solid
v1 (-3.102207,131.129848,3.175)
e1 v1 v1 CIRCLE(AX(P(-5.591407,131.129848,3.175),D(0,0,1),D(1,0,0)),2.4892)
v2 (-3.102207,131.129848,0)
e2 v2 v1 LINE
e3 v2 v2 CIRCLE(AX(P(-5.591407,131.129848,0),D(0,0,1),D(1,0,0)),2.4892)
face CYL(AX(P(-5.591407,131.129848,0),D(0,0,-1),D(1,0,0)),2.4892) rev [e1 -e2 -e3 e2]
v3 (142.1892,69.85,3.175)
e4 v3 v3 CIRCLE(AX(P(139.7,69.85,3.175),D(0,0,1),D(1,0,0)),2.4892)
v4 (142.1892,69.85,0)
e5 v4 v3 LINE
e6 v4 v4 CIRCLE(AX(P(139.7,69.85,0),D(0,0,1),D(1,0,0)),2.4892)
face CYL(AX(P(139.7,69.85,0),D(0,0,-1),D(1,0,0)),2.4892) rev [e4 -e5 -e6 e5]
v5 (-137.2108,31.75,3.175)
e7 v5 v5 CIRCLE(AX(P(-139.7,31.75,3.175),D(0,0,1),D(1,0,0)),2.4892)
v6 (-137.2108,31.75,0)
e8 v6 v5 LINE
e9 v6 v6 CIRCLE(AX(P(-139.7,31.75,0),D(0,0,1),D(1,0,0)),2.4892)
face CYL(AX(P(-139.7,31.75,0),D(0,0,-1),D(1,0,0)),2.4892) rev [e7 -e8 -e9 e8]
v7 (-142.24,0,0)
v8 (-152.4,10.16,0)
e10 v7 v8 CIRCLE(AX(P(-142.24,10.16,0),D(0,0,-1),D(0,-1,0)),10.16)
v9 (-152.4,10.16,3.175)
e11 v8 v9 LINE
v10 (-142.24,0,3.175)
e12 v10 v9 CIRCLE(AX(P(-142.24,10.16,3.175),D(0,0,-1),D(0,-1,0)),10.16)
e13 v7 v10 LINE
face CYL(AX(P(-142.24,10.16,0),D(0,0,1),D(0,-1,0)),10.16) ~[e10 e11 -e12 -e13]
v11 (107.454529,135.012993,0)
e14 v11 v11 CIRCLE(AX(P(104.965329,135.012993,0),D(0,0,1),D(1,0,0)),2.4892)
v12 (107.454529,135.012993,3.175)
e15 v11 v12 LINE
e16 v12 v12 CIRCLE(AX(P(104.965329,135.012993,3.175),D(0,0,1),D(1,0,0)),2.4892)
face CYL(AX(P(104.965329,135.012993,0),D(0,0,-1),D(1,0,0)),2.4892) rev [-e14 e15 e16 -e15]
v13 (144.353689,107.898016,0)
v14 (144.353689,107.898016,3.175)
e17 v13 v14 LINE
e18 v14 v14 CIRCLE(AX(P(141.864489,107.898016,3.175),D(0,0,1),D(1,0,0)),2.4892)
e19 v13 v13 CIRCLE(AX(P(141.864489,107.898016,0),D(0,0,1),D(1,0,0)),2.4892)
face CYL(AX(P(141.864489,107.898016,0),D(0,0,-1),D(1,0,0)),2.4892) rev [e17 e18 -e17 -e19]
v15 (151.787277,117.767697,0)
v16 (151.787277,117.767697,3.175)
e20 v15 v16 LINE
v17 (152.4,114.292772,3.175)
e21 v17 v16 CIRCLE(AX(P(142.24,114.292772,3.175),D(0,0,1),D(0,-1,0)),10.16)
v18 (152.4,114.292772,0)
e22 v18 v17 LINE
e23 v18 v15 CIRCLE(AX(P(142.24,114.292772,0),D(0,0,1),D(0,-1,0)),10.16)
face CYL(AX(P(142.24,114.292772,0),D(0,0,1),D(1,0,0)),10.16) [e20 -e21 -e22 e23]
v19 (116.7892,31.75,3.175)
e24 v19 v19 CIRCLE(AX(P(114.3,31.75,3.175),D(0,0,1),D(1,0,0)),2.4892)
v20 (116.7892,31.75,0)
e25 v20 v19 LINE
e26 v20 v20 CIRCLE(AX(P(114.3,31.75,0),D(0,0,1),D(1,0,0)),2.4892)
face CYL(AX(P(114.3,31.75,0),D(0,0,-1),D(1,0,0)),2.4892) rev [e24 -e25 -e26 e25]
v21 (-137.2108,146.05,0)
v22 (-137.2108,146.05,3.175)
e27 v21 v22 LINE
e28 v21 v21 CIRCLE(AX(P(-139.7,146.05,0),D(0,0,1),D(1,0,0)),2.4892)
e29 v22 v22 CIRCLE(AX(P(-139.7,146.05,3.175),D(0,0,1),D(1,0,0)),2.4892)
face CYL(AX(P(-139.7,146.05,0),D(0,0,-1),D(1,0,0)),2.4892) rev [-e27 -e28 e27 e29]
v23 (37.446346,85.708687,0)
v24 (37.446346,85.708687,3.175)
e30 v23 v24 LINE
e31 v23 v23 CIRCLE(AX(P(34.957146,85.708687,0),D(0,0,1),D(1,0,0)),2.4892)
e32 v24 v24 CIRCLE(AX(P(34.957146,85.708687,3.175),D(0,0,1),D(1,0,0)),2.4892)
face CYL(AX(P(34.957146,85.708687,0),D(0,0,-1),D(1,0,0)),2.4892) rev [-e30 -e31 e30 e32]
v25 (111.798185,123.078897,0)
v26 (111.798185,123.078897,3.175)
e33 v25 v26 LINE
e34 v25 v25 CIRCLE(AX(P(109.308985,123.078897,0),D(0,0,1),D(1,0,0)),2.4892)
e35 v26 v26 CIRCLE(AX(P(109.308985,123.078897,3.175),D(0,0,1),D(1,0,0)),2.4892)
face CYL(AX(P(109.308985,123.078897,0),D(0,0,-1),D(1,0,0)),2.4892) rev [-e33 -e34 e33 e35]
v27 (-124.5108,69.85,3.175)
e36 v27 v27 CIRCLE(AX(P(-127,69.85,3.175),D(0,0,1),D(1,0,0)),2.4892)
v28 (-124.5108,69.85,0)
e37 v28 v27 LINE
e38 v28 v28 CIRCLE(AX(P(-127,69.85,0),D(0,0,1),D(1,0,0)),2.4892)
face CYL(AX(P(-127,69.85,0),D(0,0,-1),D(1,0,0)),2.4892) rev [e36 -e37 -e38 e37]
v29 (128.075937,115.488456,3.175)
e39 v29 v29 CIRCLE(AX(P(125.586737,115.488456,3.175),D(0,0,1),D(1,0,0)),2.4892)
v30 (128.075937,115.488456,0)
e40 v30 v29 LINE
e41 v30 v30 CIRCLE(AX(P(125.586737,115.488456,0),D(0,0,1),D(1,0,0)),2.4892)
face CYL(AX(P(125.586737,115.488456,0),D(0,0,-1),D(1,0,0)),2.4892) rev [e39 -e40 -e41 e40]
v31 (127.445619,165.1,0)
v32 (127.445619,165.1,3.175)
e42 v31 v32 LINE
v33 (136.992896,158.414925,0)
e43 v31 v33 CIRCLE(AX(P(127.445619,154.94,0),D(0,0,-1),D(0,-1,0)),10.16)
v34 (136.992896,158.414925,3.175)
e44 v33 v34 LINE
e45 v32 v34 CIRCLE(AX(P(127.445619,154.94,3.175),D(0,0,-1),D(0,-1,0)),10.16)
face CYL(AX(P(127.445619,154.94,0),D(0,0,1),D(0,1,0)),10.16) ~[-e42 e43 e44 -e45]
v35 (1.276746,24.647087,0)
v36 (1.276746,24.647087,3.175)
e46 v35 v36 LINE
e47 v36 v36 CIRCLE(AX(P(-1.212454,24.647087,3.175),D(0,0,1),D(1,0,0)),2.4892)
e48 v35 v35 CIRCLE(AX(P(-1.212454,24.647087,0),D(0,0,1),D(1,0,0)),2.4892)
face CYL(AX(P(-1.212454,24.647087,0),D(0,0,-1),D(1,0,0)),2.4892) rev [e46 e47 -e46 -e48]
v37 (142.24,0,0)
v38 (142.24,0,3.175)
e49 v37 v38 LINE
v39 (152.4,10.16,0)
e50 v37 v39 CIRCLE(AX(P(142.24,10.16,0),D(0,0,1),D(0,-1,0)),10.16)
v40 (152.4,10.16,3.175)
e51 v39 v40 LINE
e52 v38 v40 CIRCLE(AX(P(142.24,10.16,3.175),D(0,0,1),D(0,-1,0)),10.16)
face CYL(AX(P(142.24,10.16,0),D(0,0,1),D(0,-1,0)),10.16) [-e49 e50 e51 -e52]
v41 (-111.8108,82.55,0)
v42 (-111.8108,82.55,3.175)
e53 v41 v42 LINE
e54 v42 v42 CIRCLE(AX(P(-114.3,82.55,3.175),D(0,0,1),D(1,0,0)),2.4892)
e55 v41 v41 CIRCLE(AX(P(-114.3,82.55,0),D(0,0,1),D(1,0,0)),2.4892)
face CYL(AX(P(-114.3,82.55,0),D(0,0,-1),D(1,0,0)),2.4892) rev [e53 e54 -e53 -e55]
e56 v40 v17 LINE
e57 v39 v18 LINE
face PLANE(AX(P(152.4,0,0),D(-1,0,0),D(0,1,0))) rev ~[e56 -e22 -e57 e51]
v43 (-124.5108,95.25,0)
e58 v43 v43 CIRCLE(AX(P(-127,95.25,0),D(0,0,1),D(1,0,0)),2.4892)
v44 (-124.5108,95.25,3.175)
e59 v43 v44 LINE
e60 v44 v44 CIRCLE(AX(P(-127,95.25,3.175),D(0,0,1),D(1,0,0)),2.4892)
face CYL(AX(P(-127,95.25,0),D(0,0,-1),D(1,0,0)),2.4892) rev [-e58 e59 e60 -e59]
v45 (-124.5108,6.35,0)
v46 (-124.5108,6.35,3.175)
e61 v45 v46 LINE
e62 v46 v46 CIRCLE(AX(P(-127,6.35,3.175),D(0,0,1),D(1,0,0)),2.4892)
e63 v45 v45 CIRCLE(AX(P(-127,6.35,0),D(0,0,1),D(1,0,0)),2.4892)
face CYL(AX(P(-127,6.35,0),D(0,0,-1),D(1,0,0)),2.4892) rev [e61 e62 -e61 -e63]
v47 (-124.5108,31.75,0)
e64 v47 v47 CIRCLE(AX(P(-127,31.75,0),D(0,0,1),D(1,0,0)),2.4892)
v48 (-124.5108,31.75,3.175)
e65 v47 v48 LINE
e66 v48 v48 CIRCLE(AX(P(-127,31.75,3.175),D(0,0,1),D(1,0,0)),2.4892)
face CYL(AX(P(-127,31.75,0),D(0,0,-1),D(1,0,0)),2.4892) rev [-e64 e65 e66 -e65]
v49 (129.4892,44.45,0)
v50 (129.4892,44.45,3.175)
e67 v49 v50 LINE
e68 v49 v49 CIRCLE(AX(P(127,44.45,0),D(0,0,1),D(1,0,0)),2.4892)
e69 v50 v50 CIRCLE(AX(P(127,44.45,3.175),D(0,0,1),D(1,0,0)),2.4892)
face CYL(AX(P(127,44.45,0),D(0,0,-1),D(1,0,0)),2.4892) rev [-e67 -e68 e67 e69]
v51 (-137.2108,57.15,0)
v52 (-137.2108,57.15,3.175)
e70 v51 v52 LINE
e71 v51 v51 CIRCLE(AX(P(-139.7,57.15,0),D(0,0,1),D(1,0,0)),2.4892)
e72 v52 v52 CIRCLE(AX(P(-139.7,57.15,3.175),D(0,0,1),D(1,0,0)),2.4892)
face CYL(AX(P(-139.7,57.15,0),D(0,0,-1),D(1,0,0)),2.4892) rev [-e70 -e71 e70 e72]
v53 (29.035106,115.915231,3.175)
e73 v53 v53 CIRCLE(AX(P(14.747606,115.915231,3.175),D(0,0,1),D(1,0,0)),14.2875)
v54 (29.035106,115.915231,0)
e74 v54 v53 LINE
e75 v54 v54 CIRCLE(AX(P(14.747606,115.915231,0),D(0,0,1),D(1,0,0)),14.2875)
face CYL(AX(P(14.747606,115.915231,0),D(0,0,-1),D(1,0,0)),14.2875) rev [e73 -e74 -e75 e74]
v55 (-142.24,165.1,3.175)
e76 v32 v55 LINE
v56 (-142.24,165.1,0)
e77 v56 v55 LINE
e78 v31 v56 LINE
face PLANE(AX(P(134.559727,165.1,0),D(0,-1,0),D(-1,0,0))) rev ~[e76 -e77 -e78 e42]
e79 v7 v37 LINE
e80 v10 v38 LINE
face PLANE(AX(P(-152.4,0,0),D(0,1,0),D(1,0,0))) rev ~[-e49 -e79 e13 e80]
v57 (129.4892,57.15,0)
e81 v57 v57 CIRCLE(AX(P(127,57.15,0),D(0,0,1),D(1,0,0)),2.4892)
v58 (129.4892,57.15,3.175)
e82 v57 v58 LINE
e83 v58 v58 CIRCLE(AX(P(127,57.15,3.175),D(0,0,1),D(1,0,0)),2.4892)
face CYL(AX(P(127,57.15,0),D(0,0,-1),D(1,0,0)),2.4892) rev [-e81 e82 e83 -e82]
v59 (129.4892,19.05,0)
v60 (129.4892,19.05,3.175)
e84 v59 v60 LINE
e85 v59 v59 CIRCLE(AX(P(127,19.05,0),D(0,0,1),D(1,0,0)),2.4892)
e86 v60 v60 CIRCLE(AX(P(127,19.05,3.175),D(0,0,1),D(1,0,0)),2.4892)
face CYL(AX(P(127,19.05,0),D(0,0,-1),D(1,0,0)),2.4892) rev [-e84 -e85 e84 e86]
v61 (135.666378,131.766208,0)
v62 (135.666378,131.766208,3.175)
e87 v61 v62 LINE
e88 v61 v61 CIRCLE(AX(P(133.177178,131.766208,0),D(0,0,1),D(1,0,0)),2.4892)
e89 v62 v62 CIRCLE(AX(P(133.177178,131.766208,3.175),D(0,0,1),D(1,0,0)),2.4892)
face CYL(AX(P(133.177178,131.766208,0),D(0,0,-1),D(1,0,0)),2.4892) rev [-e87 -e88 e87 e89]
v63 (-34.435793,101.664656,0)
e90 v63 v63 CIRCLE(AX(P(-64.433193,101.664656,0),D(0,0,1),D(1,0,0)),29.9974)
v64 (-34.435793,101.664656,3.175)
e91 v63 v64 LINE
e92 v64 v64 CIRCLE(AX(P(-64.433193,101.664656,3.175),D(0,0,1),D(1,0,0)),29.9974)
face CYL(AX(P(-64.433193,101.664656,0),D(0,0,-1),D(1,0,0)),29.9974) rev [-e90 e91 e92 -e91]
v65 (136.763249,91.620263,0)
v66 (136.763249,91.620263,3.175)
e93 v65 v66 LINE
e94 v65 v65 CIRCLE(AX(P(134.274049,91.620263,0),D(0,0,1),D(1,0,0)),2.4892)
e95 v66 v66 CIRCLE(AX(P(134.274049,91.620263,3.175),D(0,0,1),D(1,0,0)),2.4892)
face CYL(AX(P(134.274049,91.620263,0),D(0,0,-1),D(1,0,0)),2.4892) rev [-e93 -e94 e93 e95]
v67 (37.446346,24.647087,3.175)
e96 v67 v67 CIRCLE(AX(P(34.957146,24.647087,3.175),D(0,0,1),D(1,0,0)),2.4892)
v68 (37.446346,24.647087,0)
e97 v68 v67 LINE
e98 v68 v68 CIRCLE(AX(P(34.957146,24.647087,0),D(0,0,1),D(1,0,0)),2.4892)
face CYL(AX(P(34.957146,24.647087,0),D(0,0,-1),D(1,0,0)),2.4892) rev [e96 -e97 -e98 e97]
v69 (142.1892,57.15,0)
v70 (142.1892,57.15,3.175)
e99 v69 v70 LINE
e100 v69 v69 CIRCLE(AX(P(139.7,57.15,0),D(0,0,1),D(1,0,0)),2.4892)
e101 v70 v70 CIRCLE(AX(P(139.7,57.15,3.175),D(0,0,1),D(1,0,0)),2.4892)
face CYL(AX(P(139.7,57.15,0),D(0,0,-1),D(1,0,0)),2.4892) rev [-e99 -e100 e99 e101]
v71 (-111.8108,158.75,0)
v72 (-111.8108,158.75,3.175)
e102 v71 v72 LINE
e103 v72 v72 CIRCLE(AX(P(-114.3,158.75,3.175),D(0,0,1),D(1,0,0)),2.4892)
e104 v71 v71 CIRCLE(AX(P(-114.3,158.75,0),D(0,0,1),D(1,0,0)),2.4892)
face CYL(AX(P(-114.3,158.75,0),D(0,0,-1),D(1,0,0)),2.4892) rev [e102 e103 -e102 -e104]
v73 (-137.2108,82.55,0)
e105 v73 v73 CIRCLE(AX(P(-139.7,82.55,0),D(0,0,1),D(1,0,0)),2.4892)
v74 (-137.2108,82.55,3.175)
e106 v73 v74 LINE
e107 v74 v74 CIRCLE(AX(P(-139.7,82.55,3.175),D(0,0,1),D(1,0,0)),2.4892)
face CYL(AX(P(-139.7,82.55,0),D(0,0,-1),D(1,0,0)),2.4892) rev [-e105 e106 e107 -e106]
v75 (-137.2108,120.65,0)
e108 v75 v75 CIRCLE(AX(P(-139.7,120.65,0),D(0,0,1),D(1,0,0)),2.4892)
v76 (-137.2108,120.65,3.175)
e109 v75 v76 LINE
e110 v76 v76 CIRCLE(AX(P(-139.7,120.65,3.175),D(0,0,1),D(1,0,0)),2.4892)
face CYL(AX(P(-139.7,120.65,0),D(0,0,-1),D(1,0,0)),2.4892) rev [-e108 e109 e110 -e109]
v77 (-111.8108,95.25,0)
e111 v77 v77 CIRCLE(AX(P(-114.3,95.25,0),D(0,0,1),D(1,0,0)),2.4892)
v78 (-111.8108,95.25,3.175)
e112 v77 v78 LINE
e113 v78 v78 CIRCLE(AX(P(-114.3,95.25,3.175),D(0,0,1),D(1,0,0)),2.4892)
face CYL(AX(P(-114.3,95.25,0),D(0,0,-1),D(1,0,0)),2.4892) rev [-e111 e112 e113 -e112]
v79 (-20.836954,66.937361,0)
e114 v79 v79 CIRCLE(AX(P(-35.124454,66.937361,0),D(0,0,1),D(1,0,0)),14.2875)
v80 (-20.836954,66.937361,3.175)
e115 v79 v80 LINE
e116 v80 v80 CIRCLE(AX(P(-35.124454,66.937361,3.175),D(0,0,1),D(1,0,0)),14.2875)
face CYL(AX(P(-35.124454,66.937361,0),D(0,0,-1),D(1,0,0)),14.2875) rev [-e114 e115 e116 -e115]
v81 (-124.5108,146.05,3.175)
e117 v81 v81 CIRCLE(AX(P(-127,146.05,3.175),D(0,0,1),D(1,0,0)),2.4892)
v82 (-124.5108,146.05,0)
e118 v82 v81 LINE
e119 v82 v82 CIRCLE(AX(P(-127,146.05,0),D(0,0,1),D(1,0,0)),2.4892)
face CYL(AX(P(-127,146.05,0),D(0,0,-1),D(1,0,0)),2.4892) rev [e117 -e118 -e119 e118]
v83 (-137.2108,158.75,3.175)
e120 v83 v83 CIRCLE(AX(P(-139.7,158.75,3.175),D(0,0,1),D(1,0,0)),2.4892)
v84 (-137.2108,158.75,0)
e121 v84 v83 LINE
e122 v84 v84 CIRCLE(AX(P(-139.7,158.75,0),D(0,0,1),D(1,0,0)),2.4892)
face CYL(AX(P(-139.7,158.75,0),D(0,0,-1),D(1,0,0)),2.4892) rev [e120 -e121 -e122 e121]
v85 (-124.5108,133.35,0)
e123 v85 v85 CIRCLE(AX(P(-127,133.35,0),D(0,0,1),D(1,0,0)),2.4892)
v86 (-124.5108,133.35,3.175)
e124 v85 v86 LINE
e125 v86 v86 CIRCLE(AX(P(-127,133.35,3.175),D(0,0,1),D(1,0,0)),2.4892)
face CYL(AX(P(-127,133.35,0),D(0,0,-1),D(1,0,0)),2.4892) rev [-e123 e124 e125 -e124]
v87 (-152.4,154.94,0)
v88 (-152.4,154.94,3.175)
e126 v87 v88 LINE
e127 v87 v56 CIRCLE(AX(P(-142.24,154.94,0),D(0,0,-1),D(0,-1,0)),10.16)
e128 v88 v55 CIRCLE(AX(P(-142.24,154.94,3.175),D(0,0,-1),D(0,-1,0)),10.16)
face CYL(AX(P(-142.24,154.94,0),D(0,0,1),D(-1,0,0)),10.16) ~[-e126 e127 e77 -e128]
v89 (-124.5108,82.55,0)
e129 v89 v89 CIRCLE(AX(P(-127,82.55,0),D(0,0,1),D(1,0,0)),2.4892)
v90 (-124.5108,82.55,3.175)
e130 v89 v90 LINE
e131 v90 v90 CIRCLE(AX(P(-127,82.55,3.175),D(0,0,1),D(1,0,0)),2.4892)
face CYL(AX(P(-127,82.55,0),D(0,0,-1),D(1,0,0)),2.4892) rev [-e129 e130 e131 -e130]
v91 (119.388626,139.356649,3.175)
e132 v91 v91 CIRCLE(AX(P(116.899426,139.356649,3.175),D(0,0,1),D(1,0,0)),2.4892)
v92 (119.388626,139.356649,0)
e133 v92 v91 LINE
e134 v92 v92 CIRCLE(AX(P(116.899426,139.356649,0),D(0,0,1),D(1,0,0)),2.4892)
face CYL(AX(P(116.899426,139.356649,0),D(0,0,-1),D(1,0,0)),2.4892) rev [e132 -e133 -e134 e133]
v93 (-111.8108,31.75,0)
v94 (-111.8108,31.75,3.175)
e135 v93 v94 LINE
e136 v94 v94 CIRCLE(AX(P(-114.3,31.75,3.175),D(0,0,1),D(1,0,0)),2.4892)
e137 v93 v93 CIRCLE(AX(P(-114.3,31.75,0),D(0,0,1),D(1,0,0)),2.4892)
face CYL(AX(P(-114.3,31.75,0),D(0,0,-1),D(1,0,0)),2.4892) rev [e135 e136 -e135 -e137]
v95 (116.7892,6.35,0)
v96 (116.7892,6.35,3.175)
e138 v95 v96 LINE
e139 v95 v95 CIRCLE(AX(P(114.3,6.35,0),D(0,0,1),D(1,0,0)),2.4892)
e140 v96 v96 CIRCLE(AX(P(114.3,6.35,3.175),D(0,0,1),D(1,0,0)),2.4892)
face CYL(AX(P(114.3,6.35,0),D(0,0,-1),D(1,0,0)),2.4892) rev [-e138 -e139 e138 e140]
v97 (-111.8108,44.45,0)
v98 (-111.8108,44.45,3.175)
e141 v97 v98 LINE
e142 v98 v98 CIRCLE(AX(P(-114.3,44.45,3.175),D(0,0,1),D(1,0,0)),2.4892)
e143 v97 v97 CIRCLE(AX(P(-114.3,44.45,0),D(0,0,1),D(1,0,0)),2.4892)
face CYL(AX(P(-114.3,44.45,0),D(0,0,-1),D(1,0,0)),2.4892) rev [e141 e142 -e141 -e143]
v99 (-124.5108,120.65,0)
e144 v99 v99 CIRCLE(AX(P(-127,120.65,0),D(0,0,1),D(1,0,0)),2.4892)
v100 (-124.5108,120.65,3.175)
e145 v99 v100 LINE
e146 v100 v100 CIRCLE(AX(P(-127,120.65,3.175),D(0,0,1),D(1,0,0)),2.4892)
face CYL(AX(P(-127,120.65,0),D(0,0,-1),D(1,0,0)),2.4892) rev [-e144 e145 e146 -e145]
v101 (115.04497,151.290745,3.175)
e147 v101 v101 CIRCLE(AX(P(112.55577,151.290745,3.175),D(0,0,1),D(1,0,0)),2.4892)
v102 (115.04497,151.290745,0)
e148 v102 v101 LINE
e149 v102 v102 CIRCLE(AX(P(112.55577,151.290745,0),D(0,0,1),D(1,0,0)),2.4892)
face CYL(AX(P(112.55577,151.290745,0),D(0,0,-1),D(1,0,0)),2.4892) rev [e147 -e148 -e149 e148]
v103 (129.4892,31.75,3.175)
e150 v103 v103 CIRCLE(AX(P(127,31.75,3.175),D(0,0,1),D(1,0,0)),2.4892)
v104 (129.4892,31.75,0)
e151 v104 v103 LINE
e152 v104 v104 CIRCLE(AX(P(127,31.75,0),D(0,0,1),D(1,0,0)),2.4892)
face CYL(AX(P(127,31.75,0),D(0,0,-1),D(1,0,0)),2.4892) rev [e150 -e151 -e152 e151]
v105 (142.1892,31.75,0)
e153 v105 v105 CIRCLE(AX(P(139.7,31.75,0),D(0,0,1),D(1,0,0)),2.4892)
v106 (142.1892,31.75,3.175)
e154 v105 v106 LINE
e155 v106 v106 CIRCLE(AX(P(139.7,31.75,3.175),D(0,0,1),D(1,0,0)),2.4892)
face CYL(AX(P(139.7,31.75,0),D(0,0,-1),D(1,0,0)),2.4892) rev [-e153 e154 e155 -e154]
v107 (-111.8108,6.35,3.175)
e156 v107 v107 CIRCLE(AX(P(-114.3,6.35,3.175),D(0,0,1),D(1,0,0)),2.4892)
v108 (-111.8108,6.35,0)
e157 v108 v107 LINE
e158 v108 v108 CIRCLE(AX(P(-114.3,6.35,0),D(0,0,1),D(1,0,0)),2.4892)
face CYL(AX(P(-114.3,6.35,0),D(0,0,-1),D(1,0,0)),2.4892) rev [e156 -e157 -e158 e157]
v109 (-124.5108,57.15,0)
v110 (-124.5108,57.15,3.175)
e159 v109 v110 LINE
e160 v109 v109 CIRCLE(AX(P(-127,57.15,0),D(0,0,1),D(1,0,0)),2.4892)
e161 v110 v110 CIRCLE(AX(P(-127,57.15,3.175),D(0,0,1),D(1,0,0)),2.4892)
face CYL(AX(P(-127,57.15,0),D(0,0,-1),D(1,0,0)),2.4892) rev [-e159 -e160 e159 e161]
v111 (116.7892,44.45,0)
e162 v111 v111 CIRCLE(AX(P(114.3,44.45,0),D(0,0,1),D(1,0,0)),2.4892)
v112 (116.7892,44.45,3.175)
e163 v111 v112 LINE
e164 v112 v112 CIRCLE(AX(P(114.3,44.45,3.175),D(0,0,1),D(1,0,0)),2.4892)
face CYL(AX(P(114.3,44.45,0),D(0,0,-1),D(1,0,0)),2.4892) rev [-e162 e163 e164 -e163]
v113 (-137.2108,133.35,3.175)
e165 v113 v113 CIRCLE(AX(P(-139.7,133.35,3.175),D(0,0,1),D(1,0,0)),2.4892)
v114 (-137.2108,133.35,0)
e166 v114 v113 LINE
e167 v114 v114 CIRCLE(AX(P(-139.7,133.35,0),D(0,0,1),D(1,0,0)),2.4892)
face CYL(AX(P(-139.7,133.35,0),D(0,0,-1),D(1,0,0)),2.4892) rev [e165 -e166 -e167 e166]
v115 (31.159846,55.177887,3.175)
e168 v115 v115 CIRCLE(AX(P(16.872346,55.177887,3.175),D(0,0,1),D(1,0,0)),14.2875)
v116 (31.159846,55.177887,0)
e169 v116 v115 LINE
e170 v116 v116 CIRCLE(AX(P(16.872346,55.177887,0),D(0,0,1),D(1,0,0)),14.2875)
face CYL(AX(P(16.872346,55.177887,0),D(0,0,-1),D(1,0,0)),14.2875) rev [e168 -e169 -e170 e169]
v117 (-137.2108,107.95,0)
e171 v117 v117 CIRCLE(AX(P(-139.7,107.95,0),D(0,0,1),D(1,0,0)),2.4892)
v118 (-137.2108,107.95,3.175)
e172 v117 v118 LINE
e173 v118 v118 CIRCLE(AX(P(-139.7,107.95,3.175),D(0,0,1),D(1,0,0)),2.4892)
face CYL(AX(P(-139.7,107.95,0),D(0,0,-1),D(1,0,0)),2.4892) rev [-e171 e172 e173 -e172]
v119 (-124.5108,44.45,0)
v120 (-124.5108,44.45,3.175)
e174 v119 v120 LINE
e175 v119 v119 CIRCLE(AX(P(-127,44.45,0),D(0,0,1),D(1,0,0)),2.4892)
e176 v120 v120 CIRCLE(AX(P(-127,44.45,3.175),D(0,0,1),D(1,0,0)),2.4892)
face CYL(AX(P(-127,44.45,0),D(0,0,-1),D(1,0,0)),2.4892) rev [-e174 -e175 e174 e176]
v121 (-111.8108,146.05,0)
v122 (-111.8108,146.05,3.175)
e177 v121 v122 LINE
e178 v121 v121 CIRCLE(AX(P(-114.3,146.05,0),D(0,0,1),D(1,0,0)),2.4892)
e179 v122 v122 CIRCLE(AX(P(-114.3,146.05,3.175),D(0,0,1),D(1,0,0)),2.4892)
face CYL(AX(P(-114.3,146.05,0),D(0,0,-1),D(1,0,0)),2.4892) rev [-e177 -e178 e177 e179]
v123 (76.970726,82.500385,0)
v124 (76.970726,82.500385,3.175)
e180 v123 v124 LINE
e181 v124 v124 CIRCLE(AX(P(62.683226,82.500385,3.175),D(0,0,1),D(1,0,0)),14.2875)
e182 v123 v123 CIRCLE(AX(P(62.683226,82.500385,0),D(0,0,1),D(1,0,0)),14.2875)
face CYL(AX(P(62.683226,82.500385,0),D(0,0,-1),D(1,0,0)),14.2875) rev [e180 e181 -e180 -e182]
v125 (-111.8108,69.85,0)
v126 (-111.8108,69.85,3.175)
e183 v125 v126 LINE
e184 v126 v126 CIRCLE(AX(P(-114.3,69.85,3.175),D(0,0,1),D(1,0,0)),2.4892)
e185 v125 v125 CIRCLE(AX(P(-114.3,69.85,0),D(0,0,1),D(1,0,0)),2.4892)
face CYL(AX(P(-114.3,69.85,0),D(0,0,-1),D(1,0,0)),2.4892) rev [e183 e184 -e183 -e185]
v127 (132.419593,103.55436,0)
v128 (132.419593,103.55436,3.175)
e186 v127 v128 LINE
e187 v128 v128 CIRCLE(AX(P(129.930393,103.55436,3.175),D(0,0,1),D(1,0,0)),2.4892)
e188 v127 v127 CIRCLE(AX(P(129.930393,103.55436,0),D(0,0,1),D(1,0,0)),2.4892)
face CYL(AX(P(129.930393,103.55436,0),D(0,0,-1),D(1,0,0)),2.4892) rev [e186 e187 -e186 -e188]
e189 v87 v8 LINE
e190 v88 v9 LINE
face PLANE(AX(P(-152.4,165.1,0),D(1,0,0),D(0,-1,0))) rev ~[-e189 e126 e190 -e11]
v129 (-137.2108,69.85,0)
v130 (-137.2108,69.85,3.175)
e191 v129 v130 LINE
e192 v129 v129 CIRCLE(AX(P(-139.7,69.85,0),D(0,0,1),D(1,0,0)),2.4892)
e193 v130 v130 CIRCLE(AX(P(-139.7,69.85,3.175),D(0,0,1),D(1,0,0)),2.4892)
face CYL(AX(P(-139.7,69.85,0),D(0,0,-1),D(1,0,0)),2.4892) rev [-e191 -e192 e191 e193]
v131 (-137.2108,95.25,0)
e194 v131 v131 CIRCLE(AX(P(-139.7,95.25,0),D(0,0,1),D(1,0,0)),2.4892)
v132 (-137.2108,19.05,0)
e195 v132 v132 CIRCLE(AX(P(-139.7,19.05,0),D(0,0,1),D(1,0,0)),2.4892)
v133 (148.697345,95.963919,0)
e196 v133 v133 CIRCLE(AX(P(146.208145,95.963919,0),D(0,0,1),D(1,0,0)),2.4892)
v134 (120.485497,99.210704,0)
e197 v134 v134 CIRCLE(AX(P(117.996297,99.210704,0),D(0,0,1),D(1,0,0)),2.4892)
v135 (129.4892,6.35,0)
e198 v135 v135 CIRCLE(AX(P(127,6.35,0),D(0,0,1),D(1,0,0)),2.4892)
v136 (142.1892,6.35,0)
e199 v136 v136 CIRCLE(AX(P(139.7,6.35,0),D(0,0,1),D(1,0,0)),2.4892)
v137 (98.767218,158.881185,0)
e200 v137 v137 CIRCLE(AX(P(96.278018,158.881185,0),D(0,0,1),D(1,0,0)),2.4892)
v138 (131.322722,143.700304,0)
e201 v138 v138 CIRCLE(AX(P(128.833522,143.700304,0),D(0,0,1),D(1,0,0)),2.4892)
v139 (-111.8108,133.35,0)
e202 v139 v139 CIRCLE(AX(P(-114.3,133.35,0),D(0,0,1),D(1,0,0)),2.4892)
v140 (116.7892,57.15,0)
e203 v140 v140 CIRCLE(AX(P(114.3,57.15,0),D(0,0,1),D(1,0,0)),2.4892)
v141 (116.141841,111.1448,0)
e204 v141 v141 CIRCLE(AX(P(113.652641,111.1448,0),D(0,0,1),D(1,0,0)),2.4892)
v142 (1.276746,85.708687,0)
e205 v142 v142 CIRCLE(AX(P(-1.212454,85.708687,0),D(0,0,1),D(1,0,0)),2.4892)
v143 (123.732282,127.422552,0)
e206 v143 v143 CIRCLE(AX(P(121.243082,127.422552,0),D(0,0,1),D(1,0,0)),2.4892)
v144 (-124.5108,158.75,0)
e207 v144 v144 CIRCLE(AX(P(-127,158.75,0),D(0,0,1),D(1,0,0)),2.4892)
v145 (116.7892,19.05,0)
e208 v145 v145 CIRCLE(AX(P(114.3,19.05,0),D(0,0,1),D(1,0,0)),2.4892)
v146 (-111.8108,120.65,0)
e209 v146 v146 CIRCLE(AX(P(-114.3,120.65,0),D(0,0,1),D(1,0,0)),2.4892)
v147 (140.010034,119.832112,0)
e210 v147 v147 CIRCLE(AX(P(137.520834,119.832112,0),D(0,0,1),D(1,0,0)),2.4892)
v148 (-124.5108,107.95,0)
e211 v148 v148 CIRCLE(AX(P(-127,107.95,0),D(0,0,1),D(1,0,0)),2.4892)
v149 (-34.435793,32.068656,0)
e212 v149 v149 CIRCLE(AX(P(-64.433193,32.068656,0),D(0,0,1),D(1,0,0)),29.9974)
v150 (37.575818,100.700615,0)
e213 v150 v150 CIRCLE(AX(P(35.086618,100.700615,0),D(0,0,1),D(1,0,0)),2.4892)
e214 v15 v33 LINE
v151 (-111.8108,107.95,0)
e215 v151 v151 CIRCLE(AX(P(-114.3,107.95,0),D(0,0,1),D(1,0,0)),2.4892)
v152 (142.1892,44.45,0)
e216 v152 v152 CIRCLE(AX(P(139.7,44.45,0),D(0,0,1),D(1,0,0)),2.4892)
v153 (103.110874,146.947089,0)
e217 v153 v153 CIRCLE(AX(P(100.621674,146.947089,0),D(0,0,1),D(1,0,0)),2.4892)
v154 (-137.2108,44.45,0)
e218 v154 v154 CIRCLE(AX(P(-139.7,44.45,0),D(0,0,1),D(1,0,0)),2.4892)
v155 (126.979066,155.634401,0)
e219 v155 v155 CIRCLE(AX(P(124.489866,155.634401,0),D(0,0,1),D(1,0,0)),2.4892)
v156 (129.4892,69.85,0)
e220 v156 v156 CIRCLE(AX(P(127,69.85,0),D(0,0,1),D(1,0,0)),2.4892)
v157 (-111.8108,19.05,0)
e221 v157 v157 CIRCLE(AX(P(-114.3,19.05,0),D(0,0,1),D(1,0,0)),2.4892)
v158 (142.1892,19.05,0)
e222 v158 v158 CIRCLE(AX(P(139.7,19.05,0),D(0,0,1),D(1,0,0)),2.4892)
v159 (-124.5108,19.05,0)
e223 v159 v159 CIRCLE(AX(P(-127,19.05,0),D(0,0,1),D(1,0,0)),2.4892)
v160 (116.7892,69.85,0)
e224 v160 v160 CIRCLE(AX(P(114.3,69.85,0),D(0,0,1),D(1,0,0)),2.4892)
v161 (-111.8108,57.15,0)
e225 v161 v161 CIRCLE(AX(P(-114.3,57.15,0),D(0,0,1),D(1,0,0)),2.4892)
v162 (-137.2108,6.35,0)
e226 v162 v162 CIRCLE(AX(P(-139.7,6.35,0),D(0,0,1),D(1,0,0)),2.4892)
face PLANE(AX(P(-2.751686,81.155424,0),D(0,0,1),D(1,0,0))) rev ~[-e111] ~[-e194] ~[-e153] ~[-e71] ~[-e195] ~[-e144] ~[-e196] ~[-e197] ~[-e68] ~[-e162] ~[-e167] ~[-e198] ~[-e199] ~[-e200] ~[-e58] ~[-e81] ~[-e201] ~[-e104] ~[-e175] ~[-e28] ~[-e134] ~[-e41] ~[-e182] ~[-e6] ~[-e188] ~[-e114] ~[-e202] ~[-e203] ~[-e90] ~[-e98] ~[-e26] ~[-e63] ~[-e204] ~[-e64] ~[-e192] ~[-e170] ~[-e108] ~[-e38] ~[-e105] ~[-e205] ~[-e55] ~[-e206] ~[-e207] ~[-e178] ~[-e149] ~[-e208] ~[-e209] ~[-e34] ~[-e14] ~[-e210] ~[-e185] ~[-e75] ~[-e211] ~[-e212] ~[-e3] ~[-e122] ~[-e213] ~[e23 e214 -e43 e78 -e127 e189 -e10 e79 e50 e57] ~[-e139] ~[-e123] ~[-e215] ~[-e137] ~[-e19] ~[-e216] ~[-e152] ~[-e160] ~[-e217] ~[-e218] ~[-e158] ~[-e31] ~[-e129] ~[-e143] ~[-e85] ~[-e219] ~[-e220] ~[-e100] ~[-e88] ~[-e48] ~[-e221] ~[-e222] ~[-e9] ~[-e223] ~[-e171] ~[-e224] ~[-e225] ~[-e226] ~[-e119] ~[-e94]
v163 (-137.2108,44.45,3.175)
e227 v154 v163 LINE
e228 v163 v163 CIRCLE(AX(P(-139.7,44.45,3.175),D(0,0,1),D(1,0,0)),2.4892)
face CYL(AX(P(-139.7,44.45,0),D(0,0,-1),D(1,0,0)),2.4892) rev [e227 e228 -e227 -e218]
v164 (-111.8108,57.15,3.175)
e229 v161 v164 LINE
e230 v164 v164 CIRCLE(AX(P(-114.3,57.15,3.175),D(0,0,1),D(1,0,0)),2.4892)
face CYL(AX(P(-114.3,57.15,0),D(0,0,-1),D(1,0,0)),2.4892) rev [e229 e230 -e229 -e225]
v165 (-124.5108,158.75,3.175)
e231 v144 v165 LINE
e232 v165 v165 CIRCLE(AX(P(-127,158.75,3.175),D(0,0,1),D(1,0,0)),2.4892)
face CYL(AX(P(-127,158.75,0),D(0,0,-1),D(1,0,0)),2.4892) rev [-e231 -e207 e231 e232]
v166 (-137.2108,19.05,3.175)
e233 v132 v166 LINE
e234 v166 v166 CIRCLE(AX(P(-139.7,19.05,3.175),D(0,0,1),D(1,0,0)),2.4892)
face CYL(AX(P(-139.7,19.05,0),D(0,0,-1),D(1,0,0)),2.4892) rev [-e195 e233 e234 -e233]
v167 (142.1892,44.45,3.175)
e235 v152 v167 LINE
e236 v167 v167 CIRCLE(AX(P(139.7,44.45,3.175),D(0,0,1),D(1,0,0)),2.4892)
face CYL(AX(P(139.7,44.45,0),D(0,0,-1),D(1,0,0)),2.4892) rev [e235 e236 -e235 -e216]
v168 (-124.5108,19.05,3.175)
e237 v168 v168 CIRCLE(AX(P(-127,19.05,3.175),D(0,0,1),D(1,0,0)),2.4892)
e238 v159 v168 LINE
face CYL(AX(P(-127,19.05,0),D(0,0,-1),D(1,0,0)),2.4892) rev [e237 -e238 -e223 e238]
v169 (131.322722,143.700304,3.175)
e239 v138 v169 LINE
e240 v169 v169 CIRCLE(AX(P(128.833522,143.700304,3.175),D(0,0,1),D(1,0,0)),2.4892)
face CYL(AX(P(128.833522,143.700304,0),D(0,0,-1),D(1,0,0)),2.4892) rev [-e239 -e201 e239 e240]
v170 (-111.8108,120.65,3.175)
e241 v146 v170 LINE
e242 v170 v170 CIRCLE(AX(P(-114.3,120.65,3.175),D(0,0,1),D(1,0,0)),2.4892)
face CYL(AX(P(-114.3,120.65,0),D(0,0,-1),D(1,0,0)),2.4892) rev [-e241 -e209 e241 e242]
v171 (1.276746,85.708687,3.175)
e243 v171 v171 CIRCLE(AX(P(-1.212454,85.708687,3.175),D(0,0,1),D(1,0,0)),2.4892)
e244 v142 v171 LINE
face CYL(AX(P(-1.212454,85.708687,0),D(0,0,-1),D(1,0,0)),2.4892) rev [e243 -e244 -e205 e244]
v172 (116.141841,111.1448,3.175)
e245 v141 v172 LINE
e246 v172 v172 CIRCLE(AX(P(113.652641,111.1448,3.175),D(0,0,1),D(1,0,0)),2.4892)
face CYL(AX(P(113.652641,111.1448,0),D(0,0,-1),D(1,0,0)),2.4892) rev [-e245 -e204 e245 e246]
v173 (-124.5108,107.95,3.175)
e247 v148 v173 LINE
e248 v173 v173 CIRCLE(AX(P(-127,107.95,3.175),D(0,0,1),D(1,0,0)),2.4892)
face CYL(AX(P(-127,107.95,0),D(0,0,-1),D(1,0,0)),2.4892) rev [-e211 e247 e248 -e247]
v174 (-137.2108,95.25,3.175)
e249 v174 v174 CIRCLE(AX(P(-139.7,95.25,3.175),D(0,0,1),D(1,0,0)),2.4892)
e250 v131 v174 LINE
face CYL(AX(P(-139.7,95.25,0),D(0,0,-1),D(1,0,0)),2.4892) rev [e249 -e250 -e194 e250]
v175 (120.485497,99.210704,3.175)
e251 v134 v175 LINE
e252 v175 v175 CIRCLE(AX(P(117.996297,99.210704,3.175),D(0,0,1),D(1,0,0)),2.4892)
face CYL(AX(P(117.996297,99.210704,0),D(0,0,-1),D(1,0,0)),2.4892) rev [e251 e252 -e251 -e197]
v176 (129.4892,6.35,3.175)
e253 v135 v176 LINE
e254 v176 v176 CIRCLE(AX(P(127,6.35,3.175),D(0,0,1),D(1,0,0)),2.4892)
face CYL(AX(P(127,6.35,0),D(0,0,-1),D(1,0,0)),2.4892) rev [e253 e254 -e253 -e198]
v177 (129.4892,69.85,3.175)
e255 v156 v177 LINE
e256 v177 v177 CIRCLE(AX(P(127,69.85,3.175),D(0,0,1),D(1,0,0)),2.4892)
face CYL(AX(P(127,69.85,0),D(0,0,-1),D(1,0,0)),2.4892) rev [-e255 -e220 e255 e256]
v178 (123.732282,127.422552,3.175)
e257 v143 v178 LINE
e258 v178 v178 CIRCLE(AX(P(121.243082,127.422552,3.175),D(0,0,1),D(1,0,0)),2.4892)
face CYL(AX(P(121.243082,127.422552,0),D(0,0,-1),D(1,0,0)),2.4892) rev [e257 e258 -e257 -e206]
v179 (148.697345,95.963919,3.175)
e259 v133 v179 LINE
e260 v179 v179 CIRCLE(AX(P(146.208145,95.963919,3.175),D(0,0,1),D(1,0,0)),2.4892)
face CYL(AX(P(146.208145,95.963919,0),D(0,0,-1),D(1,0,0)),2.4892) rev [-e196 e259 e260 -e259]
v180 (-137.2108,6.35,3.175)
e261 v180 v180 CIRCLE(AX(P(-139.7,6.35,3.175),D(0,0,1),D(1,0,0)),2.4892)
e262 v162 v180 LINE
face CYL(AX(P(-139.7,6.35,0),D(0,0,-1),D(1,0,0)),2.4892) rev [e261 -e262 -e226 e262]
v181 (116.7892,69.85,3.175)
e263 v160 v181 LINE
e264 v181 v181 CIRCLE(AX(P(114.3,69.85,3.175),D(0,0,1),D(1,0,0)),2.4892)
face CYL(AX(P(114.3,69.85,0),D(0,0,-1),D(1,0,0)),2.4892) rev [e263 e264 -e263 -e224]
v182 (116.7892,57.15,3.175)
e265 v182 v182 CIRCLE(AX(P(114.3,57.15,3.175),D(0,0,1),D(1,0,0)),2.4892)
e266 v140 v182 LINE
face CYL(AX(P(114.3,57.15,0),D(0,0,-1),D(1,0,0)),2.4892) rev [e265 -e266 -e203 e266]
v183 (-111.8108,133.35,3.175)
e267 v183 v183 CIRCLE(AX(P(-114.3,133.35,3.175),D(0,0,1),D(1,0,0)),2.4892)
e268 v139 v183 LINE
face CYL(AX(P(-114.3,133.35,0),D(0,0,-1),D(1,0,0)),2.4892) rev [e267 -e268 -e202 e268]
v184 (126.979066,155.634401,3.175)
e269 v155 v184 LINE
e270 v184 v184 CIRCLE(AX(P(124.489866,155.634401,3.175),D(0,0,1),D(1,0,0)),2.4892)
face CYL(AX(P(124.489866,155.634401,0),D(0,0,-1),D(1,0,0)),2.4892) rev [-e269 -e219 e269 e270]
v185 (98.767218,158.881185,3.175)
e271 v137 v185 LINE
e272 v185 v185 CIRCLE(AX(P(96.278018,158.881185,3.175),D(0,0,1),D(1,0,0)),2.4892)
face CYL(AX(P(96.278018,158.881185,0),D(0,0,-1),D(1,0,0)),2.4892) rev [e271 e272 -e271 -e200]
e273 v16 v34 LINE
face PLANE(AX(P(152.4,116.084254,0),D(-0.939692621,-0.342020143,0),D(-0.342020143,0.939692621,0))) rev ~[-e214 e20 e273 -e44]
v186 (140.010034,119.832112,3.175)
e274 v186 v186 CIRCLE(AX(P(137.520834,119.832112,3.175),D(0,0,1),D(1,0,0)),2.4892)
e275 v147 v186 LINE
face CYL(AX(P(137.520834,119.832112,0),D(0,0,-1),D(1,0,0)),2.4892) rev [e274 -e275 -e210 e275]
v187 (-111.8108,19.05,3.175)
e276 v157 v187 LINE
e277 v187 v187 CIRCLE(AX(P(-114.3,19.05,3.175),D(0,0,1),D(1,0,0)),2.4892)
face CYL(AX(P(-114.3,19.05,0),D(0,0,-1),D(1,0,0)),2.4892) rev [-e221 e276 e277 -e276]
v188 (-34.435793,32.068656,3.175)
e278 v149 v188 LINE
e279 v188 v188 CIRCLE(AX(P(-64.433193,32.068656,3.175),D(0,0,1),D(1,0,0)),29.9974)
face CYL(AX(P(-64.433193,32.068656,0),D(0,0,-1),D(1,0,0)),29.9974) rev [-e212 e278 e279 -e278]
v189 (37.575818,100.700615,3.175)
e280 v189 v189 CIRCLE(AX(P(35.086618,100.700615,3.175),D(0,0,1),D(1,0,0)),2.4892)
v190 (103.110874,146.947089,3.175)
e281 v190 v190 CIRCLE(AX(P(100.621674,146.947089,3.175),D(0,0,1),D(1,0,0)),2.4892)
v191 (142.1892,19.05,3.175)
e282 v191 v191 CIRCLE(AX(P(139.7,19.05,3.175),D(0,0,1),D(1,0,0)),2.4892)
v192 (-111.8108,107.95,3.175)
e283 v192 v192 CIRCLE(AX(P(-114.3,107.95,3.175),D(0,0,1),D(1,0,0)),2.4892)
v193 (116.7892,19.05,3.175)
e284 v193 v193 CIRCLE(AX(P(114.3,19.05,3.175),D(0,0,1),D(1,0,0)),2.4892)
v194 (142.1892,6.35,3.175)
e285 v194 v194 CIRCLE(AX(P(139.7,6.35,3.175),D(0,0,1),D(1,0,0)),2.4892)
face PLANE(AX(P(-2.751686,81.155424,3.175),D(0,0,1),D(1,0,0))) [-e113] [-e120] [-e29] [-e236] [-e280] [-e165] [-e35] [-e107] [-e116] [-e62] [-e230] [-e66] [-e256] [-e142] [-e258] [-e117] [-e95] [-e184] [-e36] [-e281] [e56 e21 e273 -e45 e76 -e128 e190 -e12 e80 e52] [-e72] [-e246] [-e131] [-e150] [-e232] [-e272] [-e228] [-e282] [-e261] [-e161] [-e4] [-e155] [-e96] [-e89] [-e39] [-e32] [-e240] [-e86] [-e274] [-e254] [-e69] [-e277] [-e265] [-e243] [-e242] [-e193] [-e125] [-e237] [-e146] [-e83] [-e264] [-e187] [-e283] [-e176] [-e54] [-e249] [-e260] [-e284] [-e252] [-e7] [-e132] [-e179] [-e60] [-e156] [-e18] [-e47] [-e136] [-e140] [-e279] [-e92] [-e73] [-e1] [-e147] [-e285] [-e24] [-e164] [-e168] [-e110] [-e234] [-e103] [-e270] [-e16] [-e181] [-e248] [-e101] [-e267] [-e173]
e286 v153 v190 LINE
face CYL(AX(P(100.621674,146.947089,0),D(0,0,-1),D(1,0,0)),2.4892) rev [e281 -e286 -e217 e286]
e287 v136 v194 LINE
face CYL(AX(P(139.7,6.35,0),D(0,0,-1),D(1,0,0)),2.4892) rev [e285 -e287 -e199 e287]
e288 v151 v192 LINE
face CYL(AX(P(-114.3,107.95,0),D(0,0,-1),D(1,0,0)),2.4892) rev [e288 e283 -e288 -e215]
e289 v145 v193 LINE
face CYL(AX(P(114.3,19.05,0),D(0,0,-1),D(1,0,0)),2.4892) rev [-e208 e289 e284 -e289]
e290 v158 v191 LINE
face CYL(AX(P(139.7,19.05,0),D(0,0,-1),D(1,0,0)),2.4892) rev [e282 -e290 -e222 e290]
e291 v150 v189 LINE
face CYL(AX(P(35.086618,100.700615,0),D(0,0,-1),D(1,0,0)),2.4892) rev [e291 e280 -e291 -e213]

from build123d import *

# Parameters (mm, degrees)
SKETCH1_R           = 2.4892
SKETCH1_R_2         = 14.2875
SKETCH1_R_3         = 29.9974
BOSS_EXTRUDE1_DEPTH = 3.175
FILLET1_R           = 10.16


with BuildPart() as part:
    # Sketch1 → Boss-Extrude1 (new body)
    with BuildSketch(Plane.XY):
        Polygon((-152.4, 0), (152.4, 0), (152.4, 116.084254136), (134.559727495, 165.1), (-152.4, 165.1), align=None)
        with Locations((-139.7, 158.75)):
            Circle(SKETCH1_R, mode=Mode.SUBTRACT)
        with Locations((96.278017777, 158.881185382)):
            Circle(SKETCH1_R, mode=Mode.SUBTRACT)
        with Locations((112.555769881, 151.290744918)):
            Circle(SKETCH1_R, mode=Mode.SUBTRACT)
        with Locations((124.489866165, 155.634400739)):
            Circle(SKETCH1_R, mode=Mode.SUBTRACT)
        with Locations((114.3, 69.85)):
            Circle(SKETCH1_R, mode=Mode.SUBTRACT)
        with Locations((127, 69.85)):
            Circle(SKETCH1_R, mode=Mode.SUBTRACT)
        with Locations((139.7, 69.85)):
            Circle(SKETCH1_R, mode=Mode.SUBTRACT)
        with Locations((100.621673597, 146.947089098)):
            Circle(SKETCH1_R, mode=Mode.SUBTRACT)
        with Locations((116.899425702, 139.356648634)):
            Circle(SKETCH1_R, mode=Mode.SUBTRACT)
        with Locations((128.833521986, 143.700304455)):
            Circle(SKETCH1_R, mode=Mode.SUBTRACT)
        with Locations((104.965329418, 135.012992814)):
            Circle(SKETCH1_R, mode=Mode.SUBTRACT)
        with Locations((121.243081522, 127.42255235)):
            Circle(SKETCH1_R, mode=Mode.SUBTRACT)
        with Locations((133.177177806, 131.766208171)):
            Circle(SKETCH1_R, mode=Mode.SUBTRACT)
        with Locations((109.308985238, 123.07889653)):
            Circle(SKETCH1_R, mode=Mode.SUBTRACT)
        with Locations((125.586737342, 115.488456066)):
            Circle(SKETCH1_R, mode=Mode.SUBTRACT)
        with Locations((137.520833626, 119.832111887)):
            Circle(SKETCH1_R, mode=Mode.SUBTRACT)
        with Locations((113.652641058, 111.144800246)):
            Circle(SKETCH1_R, mode=Mode.SUBTRACT)
        with Locations((129.930393162, 103.554359782)):
            Circle(SKETCH1_R, mode=Mode.SUBTRACT)
        with Locations((141.864489446, 107.898015603)):
            Circle(SKETCH1_R, mode=Mode.SUBTRACT)
        with Locations((117.996296878, 99.210703962)):
            Circle(SKETCH1_R, mode=Mode.SUBTRACT)
        with Locations((134.274048982, 91.620263498)):
            Circle(SKETCH1_R, mode=Mode.SUBTRACT)
        with Locations((146.208145266, 95.963919319)):
            Circle(SKETCH1_R, mode=Mode.SUBTRACT)
        with Locations((114.3, 57.15)):
            Circle(SKETCH1_R, mode=Mode.SUBTRACT)
        with Locations((127, 57.15)):
            Circle(SKETCH1_R, mode=Mode.SUBTRACT)
        with Locations((139.7, 57.15)):
            Circle(SKETCH1_R, mode=Mode.SUBTRACT)
        with Locations((114.3, 44.45)):
            Circle(SKETCH1_R, mode=Mode.SUBTRACT)
        with Locations((127, 44.45)):
            Circle(SKETCH1_R, mode=Mode.SUBTRACT)
        with Locations((139.7, 44.45)):
            Circle(SKETCH1_R, mode=Mode.SUBTRACT)
        with Locations((114.3, 31.75)):
            Circle(SKETCH1_R, mode=Mode.SUBTRACT)
        with Locations((127, 31.75)):
            Circle(SKETCH1_R, mode=Mode.SUBTRACT)
        with Locations((139.7, 31.75)):
            Circle(SKETCH1_R, mode=Mode.SUBTRACT)
        with Locations((114.3, 19.05)):
            Circle(SKETCH1_R, mode=Mode.SUBTRACT)
        with Locations((127, 19.05)):
            Circle(SKETCH1_R, mode=Mode.SUBTRACT)
        with Locations((139.7, 19.05)):
            Circle(SKETCH1_R, mode=Mode.SUBTRACT)
        with Locations((114.3, 6.35)):
            Circle(SKETCH1_R, mode=Mode.SUBTRACT)
        with Locations((127, 6.35)):
            Circle(SKETCH1_R, mode=Mode.SUBTRACT)
        with Locations((139.7, 6.35)):
            Circle(SKETCH1_R, mode=Mode.SUBTRACT)
        with Locations((-127, 158.75)):
            Circle(SKETCH1_R, mode=Mode.SUBTRACT)
        with Locations((-114.3, 158.75)):
            Circle(SKETCH1_R, mode=Mode.SUBTRACT)
        with Locations((-127, 146.05)):
            Circle(SKETCH1_R, mode=Mode.SUBTRACT)
        with Locations((-114.3, 146.05)):
            Circle(SKETCH1_R, mode=Mode.SUBTRACT)
        with Locations((-127, 133.35)):
            Circle(SKETCH1_R, mode=Mode.SUBTRACT)
        with Locations((-114.3, 133.35)):
            Circle(SKETCH1_R, mode=Mode.SUBTRACT)
        with Locations((-127, 120.65)):
            Circle(SKETCH1_R, mode=Mode.SUBTRACT)
        with Locations((-114.3, 120.65)):
            Circle(SKETCH1_R, mode=Mode.SUBTRACT)
        with Locations((-127, 107.95)):
            Circle(SKETCH1_R, mode=Mode.SUBTRACT)
        with Locations((-114.3, 107.95)):
            Circle(SKETCH1_R, mode=Mode.SUBTRACT)
        with Locations((-127, 95.25)):
            Circle(SKETCH1_R, mode=Mode.SUBTRACT)
        with Locations((-114.3, 95.25)):
            Circle(SKETCH1_R, mode=Mode.SUBTRACT)
        with Locations((-127, 82.55)):
            Circle(SKETCH1_R, mode=Mode.SUBTRACT)
        with Locations((-114.3, 82.55)):
            Circle(SKETCH1_R, mode=Mode.SUBTRACT)
        with Locations((-127, 69.85)):
            Circle(SKETCH1_R, mode=Mode.SUBTRACT)
        with Locations((-114.3, 69.85)):
            Circle(SKETCH1_R, mode=Mode.SUBTRACT)
        with Locations((-127, 57.15)):
            Circle(SKETCH1_R, mode=Mode.SUBTRACT)
        with Locations((-114.3, 57.15)):
            Circle(SKETCH1_R, mode=Mode.SUBTRACT)
        with Locations((-127, 44.45)):
            Circle(SKETCH1_R, mode=Mode.SUBTRACT)
        with Locations((-114.3, 44.45)):
            Circle(SKETCH1_R, mode=Mode.SUBTRACT)
        with Locations((-127, 31.75)):
            Circle(SKETCH1_R, mode=Mode.SUBTRACT)
        with Locations((-114.3, 31.75)):
            Circle(SKETCH1_R, mode=Mode.SUBTRACT)
        with Locations((-127, 19.05)):
            Circle(SKETCH1_R, mode=Mode.SUBTRACT)
        with Locations((-114.3, 19.05)):
            Circle(SKETCH1_R, mode=Mode.SUBTRACT)
        with Locations((-127, 6.35)):
            Circle(SKETCH1_R, mode=Mode.SUBTRACT)
        with Locations((-114.3, 6.35)):
            Circle(SKETCH1_R, mode=Mode.SUBTRACT)
        with Locations((-139.7, 146.05)):
            Circle(SKETCH1_R, mode=Mode.SUBTRACT)
        with Locations((-139.7, 133.35)):
            Circle(SKETCH1_R, mode=Mode.SUBTRACT)
        with Locations((-139.7, 120.65)):
            Circle(SKETCH1_R, mode=Mode.SUBTRACT)
        with Locations((-139.7, 107.95)):
            Circle(SKETCH1_R, mode=Mode.SUBTRACT)
        with Locations((-139.7, 95.25)):
            Circle(SKETCH1_R, mode=Mode.SUBTRACT)
        with Locations((-139.7, 82.55)):
            Circle(SKETCH1_R, mode=Mode.SUBTRACT)
        with Locations((-139.7, 69.85)):
            Circle(SKETCH1_R, mode=Mode.SUBTRACT)
        with Locations((-139.7, 57.15)):
            Circle(SKETCH1_R, mode=Mode.SUBTRACT)
        with Locations((-139.7, 44.45)):
            Circle(SKETCH1_R, mode=Mode.SUBTRACT)
        with Locations((-139.7, 31.75)):
            Circle(SKETCH1_R, mode=Mode.SUBTRACT)
        with Locations((-139.7, 19.05)):
            Circle(SKETCH1_R, mode=Mode.SUBTRACT)
        with Locations((-139.7, 6.35)):
            Circle(SKETCH1_R, mode=Mode.SUBTRACT)
        with Locations((14.747605731, 115.915231493)):
            Circle(SKETCH1_R_2, mode=Mode.SUBTRACT)
        with Locations((-35.124454019, 66.937360953)):
            Circle(SKETCH1_R_2, mode=Mode.SUBTRACT)
        with Locations((16.872346339, 55.177887184)):
            Circle(SKETCH1_R_2, mode=Mode.SUBTRACT)
        with Locations((62.683226079, 82.500385193)):
            Circle(SKETCH1_R_2, mode=Mode.SUBTRACT)
        with Locations((-64.43319304, 101.664655725)):
            Circle(SKETCH1_R_3, mode=Mode.SUBTRACT)
        with Locations((-64.43319304, 32.068655725)):
            Circle(SKETCH1_R_3, mode=Mode.SUBTRACT)
        with Locations((-5.591406845, 131.129848394)):
            Circle(SKETCH1_R, mode=Mode.SUBTRACT)
        with Locations((35.086618307, 100.700614592)):
            Circle(SKETCH1_R, mode=Mode.SUBTRACT)
        with Locations((-1.212453661, 24.647087184)):
            Circle(SKETCH1_R, mode=Mode.SUBTRACT)
        with Locations((34.957146339, 24.647087184)):
            Circle(SKETCH1_R, mode=Mode.SUBTRACT)
        with Locations((34.957146339, 85.708687184)):
            Circle(SKETCH1_R, mode=Mode.SUBTRACT)
        with Locations((-1.212453661, 85.708687184)):
            Circle(SKETCH1_R, mode=Mode.SUBTRACT)
    extrude(amount=BOSS_EXTRUDE1_DEPTH)

    # Fillet1
    fillet1_edges = [part.edges().sort_by_distance(p)[0] for p in [
        (-152.4, 165.1, 1.5875),
        (134.559727495, 165.1, 1.5875),
        (152.4, 116.084254136, 1.5875),
        (152.4, 0, 1.5875),
        (-152.4, 0, 1.5875),
    ]]
    fillet(fillet1_edges, radius=FILLET1_R)


solid = part.part
